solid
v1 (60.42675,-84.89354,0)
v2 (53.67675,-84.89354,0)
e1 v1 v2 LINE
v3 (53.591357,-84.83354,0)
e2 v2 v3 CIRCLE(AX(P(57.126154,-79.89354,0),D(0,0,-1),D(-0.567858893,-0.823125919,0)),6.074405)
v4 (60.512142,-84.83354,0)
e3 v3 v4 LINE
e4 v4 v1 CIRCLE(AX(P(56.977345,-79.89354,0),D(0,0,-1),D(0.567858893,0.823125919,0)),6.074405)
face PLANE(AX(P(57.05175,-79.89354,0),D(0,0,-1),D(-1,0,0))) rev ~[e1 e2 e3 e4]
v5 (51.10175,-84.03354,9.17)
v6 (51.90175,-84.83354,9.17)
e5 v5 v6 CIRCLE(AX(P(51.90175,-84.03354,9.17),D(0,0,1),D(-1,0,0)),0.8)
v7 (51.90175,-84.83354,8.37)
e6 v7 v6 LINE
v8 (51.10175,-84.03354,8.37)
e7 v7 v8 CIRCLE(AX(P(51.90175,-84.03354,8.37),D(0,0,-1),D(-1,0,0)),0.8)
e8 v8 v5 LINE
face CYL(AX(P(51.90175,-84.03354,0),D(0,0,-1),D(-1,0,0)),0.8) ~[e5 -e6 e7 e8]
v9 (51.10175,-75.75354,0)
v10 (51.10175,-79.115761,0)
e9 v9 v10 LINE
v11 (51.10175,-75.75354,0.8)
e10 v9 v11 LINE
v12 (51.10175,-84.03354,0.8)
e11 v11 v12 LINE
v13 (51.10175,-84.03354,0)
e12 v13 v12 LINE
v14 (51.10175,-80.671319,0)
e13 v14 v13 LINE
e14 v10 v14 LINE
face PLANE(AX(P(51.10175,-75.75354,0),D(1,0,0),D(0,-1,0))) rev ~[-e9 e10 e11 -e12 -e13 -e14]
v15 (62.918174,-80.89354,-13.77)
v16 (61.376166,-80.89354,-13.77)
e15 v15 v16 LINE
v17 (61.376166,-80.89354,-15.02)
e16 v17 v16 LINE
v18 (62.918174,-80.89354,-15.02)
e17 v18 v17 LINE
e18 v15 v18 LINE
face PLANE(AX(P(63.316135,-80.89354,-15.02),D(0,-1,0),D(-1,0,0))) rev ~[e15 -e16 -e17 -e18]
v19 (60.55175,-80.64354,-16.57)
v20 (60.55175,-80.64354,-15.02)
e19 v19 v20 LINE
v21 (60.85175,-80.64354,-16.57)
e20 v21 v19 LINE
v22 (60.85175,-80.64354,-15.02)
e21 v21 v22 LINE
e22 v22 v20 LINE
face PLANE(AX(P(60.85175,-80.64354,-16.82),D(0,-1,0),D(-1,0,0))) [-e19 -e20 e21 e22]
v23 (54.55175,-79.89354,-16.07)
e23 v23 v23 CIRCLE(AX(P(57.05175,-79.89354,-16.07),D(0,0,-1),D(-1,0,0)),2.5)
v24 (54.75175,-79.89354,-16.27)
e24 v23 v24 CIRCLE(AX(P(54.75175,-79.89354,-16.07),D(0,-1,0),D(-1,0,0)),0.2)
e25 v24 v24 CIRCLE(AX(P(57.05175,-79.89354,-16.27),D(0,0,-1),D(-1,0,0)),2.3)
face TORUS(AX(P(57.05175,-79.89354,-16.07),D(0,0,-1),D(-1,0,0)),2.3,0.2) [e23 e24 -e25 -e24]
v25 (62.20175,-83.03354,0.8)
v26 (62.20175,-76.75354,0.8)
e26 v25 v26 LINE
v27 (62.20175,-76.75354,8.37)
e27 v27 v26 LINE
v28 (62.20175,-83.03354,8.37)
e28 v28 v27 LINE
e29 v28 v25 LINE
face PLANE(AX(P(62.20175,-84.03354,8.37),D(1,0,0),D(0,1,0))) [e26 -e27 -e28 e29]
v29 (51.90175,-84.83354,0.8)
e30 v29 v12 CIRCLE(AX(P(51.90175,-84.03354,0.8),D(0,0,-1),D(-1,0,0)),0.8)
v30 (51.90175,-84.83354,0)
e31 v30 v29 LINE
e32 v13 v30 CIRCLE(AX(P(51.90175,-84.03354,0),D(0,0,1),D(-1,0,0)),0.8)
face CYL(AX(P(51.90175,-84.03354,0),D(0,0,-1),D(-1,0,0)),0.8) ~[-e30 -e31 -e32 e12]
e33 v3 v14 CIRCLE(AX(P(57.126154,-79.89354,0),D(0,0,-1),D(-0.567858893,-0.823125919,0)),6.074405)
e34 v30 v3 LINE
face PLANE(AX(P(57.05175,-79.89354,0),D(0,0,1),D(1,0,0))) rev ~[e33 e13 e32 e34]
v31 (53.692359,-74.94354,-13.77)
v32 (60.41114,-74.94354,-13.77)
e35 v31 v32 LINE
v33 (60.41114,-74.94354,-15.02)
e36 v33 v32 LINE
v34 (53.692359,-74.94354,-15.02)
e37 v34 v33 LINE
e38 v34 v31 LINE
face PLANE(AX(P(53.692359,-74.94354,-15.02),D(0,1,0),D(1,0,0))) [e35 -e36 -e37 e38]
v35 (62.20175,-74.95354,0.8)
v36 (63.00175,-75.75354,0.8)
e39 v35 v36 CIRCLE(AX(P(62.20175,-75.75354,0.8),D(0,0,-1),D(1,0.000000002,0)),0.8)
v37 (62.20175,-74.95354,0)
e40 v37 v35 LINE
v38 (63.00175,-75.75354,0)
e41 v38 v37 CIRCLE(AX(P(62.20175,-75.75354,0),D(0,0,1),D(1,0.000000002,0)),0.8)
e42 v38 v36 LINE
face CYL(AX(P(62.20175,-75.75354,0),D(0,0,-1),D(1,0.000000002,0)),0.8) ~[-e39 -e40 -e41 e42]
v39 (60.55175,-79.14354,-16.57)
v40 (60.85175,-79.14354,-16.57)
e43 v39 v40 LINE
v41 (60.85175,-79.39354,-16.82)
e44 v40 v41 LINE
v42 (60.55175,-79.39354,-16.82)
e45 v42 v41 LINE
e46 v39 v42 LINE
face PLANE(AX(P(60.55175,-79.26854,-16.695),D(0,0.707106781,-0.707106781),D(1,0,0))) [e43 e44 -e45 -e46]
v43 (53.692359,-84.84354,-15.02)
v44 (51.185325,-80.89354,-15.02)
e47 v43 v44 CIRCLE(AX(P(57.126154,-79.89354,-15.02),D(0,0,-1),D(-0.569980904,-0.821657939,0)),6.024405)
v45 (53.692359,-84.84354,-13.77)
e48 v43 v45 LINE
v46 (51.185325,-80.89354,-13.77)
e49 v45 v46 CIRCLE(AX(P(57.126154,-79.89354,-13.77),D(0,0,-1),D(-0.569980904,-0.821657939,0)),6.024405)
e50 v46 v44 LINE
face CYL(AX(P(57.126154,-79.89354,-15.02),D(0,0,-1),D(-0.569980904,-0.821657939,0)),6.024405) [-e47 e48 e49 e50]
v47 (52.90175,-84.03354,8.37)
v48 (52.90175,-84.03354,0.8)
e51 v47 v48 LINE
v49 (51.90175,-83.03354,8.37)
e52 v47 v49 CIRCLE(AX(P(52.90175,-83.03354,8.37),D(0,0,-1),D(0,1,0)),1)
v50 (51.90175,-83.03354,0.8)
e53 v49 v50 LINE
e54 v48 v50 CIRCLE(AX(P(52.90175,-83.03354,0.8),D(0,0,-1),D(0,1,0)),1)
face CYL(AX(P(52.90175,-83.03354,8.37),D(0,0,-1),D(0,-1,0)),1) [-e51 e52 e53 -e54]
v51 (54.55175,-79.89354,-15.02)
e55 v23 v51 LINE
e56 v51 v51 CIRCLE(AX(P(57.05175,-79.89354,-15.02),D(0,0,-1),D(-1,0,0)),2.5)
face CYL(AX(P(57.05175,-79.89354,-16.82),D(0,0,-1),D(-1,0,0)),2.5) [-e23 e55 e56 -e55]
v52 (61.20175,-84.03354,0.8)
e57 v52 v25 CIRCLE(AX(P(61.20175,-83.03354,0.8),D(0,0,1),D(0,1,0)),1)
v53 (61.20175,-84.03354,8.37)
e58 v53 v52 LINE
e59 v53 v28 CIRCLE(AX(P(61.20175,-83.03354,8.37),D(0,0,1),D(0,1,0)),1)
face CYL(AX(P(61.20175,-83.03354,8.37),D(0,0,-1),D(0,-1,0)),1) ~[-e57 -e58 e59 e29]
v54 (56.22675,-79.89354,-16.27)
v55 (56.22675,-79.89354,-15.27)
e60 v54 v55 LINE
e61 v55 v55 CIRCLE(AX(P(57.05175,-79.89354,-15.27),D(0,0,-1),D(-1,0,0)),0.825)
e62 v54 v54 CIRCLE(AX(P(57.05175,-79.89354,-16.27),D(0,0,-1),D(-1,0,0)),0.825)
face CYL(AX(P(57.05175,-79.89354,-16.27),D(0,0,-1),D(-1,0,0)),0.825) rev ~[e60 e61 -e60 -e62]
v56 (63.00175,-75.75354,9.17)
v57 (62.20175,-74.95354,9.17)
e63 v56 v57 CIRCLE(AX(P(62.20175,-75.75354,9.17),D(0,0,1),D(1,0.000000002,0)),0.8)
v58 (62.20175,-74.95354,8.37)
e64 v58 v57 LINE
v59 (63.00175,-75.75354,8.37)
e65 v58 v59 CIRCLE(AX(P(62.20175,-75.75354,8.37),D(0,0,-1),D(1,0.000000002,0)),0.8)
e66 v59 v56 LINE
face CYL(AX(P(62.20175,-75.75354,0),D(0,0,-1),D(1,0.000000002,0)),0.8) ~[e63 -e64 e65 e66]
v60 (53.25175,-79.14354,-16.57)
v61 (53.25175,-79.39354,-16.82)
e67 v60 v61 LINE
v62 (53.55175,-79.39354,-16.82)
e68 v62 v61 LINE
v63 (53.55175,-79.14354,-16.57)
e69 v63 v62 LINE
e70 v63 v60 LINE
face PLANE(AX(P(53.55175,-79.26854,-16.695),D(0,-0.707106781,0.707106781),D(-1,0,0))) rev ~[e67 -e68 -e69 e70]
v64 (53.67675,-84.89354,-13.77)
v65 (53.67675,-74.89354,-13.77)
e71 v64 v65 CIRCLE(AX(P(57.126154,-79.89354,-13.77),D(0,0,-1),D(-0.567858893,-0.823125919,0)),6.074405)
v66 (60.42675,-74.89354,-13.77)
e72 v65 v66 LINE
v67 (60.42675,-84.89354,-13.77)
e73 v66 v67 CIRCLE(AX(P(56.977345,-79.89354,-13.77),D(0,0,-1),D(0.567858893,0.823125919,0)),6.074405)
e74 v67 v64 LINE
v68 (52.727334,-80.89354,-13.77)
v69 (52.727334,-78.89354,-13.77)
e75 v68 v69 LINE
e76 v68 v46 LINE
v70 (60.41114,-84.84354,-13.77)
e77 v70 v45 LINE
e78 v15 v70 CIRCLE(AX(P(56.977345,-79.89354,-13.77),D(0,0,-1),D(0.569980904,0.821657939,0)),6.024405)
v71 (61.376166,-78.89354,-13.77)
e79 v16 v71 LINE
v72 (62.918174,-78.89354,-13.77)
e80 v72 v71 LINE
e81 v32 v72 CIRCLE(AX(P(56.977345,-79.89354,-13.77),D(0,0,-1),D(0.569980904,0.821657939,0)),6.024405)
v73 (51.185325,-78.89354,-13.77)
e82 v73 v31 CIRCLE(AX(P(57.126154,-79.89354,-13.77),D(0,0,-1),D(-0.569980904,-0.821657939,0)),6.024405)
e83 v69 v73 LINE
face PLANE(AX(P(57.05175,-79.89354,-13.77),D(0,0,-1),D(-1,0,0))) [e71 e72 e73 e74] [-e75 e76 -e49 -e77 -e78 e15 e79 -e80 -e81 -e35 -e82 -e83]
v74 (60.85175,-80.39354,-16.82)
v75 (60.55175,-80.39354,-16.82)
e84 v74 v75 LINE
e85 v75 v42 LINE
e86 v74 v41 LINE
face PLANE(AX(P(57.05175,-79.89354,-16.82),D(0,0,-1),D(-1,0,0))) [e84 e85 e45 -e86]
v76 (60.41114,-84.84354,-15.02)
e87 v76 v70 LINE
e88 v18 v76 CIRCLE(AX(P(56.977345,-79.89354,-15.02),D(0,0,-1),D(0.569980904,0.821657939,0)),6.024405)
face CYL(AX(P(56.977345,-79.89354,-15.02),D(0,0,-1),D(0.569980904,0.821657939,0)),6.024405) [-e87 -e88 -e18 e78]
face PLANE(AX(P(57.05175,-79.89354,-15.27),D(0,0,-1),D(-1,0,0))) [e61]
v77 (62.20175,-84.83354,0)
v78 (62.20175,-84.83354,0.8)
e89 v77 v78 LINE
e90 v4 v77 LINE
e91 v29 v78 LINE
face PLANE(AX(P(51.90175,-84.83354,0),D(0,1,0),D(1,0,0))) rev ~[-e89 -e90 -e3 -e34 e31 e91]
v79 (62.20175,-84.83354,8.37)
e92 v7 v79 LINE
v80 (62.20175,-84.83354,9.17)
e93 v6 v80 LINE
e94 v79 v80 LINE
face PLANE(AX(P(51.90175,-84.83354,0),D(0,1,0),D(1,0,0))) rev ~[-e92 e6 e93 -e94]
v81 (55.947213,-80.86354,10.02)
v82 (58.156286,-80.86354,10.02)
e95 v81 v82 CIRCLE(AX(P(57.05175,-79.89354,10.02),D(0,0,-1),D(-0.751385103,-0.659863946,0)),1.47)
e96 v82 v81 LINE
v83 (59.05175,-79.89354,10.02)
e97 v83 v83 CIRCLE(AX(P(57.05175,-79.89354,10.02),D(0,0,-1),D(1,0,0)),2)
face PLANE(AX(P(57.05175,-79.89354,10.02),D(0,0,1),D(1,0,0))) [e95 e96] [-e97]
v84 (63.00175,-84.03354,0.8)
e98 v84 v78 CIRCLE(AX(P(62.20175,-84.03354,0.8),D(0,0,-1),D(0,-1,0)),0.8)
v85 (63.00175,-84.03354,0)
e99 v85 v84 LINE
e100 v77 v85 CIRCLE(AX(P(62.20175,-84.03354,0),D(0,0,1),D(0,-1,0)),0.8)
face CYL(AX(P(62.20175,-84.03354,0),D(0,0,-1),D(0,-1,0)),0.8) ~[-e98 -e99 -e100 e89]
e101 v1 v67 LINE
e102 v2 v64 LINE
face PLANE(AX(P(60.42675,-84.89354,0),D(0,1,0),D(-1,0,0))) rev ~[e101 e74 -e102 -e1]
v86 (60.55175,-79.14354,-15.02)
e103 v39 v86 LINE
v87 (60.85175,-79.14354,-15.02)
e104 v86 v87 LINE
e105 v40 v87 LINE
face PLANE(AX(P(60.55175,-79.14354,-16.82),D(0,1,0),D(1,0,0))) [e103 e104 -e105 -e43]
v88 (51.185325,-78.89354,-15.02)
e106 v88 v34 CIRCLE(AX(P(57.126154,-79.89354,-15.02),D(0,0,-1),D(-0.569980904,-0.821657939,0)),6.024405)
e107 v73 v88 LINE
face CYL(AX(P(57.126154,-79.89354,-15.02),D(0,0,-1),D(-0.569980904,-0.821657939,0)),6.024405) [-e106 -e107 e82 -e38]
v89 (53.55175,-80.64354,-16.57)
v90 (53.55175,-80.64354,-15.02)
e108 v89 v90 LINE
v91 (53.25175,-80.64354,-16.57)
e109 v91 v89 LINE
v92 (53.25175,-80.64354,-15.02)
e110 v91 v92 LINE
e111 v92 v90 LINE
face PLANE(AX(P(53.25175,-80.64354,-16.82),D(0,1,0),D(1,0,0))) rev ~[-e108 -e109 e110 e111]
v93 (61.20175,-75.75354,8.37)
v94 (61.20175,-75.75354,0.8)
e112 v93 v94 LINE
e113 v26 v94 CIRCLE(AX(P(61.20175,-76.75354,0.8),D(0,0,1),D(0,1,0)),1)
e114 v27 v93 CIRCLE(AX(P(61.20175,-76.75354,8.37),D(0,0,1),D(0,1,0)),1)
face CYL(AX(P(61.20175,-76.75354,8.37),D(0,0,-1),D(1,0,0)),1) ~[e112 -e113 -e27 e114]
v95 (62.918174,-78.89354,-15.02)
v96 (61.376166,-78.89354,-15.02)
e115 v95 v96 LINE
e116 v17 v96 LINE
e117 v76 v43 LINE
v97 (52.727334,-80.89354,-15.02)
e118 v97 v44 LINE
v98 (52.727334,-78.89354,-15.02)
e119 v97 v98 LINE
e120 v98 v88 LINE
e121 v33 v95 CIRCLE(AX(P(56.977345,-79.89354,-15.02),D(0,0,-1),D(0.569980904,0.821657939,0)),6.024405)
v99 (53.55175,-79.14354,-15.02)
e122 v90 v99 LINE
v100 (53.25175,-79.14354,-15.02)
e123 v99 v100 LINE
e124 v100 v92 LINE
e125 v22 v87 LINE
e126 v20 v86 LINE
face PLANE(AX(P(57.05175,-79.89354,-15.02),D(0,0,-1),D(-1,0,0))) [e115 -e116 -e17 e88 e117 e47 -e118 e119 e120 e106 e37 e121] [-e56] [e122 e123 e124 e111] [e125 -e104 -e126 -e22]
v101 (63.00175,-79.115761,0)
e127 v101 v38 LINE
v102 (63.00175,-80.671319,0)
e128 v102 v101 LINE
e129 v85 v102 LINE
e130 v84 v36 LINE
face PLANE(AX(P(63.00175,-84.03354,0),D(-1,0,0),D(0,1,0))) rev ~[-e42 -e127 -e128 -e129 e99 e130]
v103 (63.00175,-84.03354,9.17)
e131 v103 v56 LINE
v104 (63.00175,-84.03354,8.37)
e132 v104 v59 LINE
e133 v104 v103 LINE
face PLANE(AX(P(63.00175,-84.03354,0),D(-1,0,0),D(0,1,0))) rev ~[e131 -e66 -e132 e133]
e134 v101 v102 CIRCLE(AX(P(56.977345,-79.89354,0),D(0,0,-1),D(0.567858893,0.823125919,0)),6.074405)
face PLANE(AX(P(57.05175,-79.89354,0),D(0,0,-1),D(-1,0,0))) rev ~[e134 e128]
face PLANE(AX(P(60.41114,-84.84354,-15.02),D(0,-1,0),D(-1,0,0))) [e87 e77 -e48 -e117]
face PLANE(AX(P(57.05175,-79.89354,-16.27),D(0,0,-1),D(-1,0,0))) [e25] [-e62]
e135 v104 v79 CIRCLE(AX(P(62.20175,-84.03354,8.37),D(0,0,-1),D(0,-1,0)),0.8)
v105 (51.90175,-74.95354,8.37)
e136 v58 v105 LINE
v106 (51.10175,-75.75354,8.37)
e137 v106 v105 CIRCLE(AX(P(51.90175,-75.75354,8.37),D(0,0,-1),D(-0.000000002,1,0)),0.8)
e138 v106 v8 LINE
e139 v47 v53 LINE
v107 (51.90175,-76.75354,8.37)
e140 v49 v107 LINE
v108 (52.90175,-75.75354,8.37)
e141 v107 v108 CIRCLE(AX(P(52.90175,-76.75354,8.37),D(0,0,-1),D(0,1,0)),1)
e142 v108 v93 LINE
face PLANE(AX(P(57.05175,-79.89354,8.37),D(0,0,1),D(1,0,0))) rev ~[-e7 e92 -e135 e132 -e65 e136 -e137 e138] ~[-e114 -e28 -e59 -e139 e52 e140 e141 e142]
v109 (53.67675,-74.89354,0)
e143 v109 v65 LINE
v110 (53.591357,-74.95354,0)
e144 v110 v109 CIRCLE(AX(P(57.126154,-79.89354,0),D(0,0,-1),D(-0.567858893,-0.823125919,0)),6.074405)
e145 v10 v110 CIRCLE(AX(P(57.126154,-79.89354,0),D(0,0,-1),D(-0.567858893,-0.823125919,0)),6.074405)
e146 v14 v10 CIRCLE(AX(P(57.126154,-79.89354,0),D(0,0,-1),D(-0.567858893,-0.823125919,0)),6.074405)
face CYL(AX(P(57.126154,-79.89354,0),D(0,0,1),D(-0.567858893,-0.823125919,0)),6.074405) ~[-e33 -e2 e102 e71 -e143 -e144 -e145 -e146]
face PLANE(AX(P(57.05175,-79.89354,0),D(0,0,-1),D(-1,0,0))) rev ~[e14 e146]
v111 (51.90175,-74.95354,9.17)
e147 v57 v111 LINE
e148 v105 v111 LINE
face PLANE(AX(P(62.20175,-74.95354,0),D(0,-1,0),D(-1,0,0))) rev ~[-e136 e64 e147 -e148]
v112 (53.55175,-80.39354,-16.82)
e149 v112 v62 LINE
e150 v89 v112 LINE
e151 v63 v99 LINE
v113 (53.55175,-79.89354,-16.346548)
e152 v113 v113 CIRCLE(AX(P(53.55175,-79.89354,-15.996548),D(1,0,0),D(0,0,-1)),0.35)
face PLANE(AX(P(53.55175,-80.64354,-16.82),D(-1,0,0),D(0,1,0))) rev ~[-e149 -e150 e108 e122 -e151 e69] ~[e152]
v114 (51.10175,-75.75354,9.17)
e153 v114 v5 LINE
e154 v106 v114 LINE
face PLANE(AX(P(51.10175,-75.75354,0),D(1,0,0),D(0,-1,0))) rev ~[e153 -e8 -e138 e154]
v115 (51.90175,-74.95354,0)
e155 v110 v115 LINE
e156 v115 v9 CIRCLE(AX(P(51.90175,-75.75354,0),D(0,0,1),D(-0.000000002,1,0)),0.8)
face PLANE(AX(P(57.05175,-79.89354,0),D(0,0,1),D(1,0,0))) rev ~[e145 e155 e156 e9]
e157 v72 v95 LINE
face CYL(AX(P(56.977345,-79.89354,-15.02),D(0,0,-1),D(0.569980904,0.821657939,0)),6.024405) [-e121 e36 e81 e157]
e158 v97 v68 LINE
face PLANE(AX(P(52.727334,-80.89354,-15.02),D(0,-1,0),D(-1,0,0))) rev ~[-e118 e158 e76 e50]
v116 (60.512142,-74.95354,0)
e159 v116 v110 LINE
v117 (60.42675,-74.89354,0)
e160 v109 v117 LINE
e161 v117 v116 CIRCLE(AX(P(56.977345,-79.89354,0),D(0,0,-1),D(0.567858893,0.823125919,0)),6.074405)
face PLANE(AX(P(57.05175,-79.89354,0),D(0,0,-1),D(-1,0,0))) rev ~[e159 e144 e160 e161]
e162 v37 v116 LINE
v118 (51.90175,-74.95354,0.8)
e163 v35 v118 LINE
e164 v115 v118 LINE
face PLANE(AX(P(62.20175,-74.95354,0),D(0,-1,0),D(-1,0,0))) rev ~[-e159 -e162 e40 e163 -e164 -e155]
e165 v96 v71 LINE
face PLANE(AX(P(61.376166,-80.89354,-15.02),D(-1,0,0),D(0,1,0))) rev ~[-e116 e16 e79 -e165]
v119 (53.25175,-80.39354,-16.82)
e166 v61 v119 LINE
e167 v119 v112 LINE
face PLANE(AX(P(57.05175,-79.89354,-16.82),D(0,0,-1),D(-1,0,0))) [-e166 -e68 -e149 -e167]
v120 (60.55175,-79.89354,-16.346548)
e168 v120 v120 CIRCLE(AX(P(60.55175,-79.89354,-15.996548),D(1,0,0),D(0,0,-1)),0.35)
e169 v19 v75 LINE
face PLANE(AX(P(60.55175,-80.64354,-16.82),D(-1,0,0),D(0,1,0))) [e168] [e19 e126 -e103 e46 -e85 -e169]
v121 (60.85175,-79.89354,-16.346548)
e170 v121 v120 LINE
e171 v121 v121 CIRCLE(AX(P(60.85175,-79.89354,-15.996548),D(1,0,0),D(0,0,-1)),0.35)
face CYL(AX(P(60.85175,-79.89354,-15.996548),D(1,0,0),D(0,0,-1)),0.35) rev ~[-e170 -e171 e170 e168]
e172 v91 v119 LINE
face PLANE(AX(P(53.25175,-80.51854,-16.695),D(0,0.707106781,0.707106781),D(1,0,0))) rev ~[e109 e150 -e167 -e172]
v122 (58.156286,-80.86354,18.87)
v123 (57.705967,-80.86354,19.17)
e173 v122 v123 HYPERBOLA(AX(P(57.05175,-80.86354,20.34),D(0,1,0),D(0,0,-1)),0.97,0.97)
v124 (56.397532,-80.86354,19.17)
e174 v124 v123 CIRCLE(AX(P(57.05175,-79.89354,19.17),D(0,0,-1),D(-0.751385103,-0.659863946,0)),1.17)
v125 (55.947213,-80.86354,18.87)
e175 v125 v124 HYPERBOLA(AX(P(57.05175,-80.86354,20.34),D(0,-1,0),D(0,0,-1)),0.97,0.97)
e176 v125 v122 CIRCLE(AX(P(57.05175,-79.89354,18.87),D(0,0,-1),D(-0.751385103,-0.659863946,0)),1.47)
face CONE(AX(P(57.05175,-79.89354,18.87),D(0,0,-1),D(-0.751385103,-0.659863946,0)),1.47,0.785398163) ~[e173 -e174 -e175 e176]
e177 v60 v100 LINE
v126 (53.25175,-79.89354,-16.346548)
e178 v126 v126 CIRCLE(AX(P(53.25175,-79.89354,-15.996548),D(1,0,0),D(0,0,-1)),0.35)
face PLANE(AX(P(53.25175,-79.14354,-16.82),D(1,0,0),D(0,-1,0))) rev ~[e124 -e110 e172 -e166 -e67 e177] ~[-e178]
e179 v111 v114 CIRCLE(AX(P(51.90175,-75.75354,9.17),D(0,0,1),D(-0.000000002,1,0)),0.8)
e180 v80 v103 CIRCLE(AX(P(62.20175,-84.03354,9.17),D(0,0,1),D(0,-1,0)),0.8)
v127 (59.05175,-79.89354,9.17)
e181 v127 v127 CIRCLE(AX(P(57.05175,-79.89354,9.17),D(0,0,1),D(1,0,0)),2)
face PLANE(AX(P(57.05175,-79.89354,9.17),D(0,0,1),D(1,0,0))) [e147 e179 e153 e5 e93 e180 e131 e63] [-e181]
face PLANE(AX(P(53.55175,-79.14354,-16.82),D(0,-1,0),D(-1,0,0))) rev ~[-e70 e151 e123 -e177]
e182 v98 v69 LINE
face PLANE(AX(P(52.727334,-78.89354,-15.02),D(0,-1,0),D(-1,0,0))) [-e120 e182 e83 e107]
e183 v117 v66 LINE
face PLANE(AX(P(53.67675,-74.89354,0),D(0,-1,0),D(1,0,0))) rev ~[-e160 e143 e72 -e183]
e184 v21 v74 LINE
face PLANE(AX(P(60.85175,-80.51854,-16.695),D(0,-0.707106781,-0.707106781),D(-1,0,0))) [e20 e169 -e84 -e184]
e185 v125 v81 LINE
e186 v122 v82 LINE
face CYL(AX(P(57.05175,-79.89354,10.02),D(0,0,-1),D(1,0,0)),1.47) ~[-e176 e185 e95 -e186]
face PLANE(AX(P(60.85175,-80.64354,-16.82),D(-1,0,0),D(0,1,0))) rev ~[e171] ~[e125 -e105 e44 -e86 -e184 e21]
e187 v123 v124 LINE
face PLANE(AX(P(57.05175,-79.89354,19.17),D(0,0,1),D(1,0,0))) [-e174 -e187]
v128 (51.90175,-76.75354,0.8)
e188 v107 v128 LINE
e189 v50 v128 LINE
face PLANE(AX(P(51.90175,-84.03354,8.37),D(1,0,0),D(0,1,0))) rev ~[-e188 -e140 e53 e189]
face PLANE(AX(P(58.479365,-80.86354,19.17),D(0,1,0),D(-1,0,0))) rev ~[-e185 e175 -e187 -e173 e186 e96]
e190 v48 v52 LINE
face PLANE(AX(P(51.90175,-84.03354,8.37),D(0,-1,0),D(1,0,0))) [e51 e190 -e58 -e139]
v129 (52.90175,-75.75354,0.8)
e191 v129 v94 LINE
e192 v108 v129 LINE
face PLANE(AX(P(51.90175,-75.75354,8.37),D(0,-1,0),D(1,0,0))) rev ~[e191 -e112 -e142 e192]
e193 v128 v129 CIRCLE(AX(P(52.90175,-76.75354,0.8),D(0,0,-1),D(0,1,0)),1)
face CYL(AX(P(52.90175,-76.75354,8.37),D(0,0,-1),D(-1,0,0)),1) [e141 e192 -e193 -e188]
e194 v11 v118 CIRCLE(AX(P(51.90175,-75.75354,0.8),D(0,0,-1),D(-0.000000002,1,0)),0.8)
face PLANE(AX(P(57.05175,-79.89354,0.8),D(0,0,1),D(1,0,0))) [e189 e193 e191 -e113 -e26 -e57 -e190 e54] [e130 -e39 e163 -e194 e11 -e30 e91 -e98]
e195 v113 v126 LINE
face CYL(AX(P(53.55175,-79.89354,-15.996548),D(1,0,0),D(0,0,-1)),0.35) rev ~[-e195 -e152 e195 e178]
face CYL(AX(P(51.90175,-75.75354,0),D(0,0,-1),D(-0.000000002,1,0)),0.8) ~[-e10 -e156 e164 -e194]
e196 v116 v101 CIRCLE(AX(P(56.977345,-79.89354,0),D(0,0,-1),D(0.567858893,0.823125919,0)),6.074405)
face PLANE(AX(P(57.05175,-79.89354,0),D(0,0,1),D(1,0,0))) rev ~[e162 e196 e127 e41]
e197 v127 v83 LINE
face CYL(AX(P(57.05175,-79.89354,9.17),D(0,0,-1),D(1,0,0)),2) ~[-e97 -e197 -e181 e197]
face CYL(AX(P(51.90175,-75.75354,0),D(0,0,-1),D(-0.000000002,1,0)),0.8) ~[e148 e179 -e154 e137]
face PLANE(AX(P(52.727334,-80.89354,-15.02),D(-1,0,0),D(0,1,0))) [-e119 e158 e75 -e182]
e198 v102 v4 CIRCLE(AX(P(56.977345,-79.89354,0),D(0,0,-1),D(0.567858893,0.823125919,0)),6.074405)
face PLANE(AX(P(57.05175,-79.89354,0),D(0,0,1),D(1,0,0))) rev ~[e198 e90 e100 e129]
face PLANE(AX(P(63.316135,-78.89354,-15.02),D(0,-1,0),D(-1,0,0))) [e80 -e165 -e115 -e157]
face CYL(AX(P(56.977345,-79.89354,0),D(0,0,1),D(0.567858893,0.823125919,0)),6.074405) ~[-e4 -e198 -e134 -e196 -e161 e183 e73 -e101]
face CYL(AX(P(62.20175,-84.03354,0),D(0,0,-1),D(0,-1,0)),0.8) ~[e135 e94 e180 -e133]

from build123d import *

# Parameters (mm, degrees)
BOSS_EXTRUDE1_DEPTH = 16.82
BOSS_EXTRUDE2_DEPTH = 9.17
SKETCH3_R           = 2
BOSS_EXTRUDE3_DEPTH = 0.85
SKETCH4_R           = 1.47
BOSS_EXTRUDE4_DEPTH = 9.15
CUT_EXTRUDE1_DEPTH  = 9.15
SKETCH7_R           = 7.076677912
SKETCH7_R_2         = 2.5
CUT_EXTRUDE2_DEPTH  = 1.8
SKETCH8_R           = 2.5
CUT_EXTRUDE3_DEPTH  = 0.55
SKETCH9_W           = 14.3
SKETCH9_H           = 12.28
SKETCH9_W_2         = 10.3
SKETCH9_H_2         = 8.28
CUT_EXTRUDE4_DEPTH  = 7.57
FILLET1_R           = 1
CHAMFER2_SIZE       = 0.25
SKETCH10_R          = 0.35
CUT_EXTRUDE5_DEPTH  = 0.8
SKETCH11_R          = 0.35
CUT_EXTRUDE6_DEPTH  = 0.8
FILLET2_R           = 0.2
SKETCH12_R          = 0.825
CUT_EXTRUDE7_DEPTH  = 1
CUT_EXTRUDE8_DEPTH  = 1.25
SKETCH14_W          = 1.939968983
SKETCH14_H          = 2
CUT_EXTRUDE9_DEPTH  = 1.25
CHAMFER3_SIZE       = 0.3


with BuildPart() as part:
    # Sketch1 → Boss-Extrude1 (new body)
    with BuildSketch(Plane.XY):
        with BuildLine():
            Line((53.676749567, -74.893540286), (60.426749567, -74.893540286))
            ThreePointArc((60.426749567, -74.893540286), (63.051749567, -79.893540286), (60.426749567, -84.893540286))
            Line((60.426749567, -84.893540286), (53.676749567, -84.893540286))
            ThreePointArc((53.676749567, -84.893540286), (51.051749567, -79.893540286), (53.676749567, -74.893540286))
        make_face()
    extrude(amount=-BOSS_EXTRUDE1_DEPTH)

    # Sketch2 → Boss-Extrude2 (add)
    with BuildSketch(Plane.XY):
        with BuildLine():
            Line((63.001749567, -84.033540286), (63.001749567, -75.753540286))
            ThreePointArc((63.001749567, -75.753540286), (62.767434992, -75.187854862), (62.201749567, -74.953540286))
            Line((62.201749567, -74.953540286), (51.901749567, -74.953540286))
            ThreePointArc((51.901749567, -74.953540286), (51.336064142, -75.187854862), (51.101749567, -75.753540286))
            Line((51.101749567, -75.753540286), (51.101749567, -84.033540286))
            ThreePointArc((51.101749567, -84.033540286), (51.336064142, -84.599225711), (51.901749567, -84.833540286))
            Line((51.901749567, -84.833540286), (62.201749567, -84.833540286))
            ThreePointArc((62.201749567, -84.833540286), (62.767434992, -84.599225711), (63.001749567, -84.033540286))
        make_face()
    extrude(amount=BOSS_EXTRUDE2_DEPTH)

    # Sketch3 → Boss-Extrude3 (add)
    with BuildSketch(Plane.XY.offset(9.17)):
        with Locations((57.051749567, -79.893540286)):
            Circle(SKETCH3_R)
    extrude(amount=BOSS_EXTRUDE3_DEPTH)

    # Sketch4 → Boss-Extrude4 (add)
    with BuildSketch(Plane.XY.offset(10.02)):
        with Locations((57.051749567, -79.893540286)):
            Circle(SKETCH4_R)
    extrude(amount=BOSS_EXTRUDE4_DEPTH)

    # Sketch5 → Cut-Extrude1 (cut)
    with BuildSketch(Plane.XY.offset(19.17)):
        Polygon((57.051749567, -80.863540286), (58.479364881, -80.863540286), (58.479364881, -81.63553805), (55.371975477, -81.63553805), (55.371975477, -80.863540286), align=None)
    extrude(amount=-CUT_EXTRUDE1_DEPTH, mode=Mode.SUBTRACT)

    # Sketch7 → Cut-Extrude2 (cut)
    with BuildSketch(Plane(origin=(0, 0, -16.82), x_dir=(-1, 0, 0), z_dir=(0, 0, -1))):
        with Locations((-57.051749567, -79.893540286)):
            Circle(SKETCH7_R)
        with Locations((-57.051749567, -79.893540286)):
            Circle(SKETCH7_R_2, mode=Mode.SUBTRACT)
        Polygon((-60.551749567, -79.143540286), (-60.851749567, -79.143540286), (-60.851749567, -79.893540286), (-60.851749567, -80.643540286), (-60.551749567, -80.643540286), align=None, mode=Mode.SUBTRACT)
        Polygon((-53.251749567, -79.143540286), (-53.251749567, -79.893540286), (-53.251749567, -80.643540286), (-53.551749567, -80.643540286), (-53.551749567, -79.143540286), align=None, mode=Mode.SUBTRACT)
    extrude(amount=-CUT_EXTRUDE2_DEPTH, mode=Mode.SUBTRACT)

    # Sketch8 → Cut-Extrude3 (cut)
    with BuildSketch(Plane(origin=(0, 0, -16.82), x_dir=(-1, 0, 0), z_dir=(0, 0, -1))):
        with Locations((-57.051749567, -79.893540286)):
            Circle(SKETCH8_R)
    extrude(amount=-CUT_EXTRUDE3_DEPTH, mode=Mode.SUBTRACT)

    # Sketch9 → Cut-Extrude4 (cut)
    with BuildSketch(Plane.XY.offset(8.37)):
        with Locations((57.051749567, -79.893540286)):
            Rectangle(SKETCH9_W, SKETCH9_H)
        with Locations((57.051749567, -79.893540286)):
            Rectangle(SKETCH9_W_2, SKETCH9_H_2, mode=Mode.SUBTRACT)
    extrude(amount=-CUT_EXTRUDE4_DEPTH, mode=Mode.SUBTRACT)

    # Fillet1
    fillet1_edges = [part.edges().sort_by_distance(p)[0] for p in [
        (51.901749567, -75.753540286, 4.585),
        (51.901749567, -84.033540286, 4.585),
        (62.201749567, -84.033540286, 4.585),
        (62.201749567, -75.753540286, 4.585),
    ]]
    fillet(fillet1_edges, radius=FILLET1_R)

    # Chamfer2
    chamfer2_edges = [part.edges().sort_by_distance(p)[0] for p in [
        (60.701749567, -80.643540286, -16.82),
        (60.701749567, -79.143540286, -16.82),
        (53.401749567, -80.643540286, -16.82),
        (53.401749567, -79.143540286, -16.82),
    ]]
    chamfer(chamfer2_edges, length=CHAMFER2_SIZE)

    # Sketch10 → Cut-Extrude5 (cut)
    with BuildSketch(Plane(origin=(60.851749567, 0, 0), x_dir=(0, 0, -1), z_dir=(1, 0, 0))):
        with Locations((15.996548304, -79.893540286)):
            Circle(SKETCH10_R)
    extrude(amount=-CUT_EXTRUDE5_DEPTH, mode=Mode.SUBTRACT)

    # Sketch11 → Cut-Extrude6 (cut)
    with BuildSketch(Plane(origin=(53.551749567, 0, 0), x_dir=(0, 0, -1), z_dir=(1, 0, 0))):
        with Locations((15.996548304, -79.893540286)):
            Circle(SKETCH11_R)
    extrude(amount=-CUT_EXTRUDE6_DEPTH, mode=Mode.SUBTRACT)

    # Fillet2
    fillet2_edges = [part.edges().sort_by_distance(p)[0] for p in [
        (59.551749567, -79.893540286, -16.27),
    ]]
    fillet(fillet2_edges, radius=FILLET2_R)

    # Sketch12 → Cut-Extrude7 (cut)
    with BuildSketch(Plane(origin=(0, 0, -16.27), x_dir=(-1, 0, 0), z_dir=(0, 0, -1))):
        with Locations((-57.051749567, -79.893540286)):
            Circle(SKETCH12_R)
    extrude(amount=-CUT_EXTRUDE7_DEPTH, mode=Mode.SUBTRACT)

    # Sketch13 → Cut-Extrude8 (cut)
    with BuildSketch(Plane(origin=(0, 0, -15.02), x_dir=(-1, 0, 0), z_dir=(0, 0, -1))):
        with BuildLine():
            Line((-53.392555226, -73.943540286), (-60.710943907, -73.943540286))
            ThreePointArc((-60.710943907, -73.943540286), (-64.001749567, -79.893540286), (-60.710943907, -85.843540286))
            Line((-60.710943907, -85.843540286), (-53.392555226, -85.843540286))
            ThreePointArc((-53.392555226, -85.843540286), (-50.101749567, -79.893540286), (-53.392555226, -73.943540286))
        make_face()
        with BuildLine():
            Line((-53.692358654, -74.943540286), (-60.411140479, -74.943540286))
            ThreePointArc((-60.411140479, -74.943540286), (-63.001749567, -79.893540286), (-60.411140479, -84.843540286))
            Line((-60.411140479, -84.843540286), (-53.692358654, -84.843540286))
            ThreePointArc((-53.692358654, -84.843540286), (-51.101749567, -79.893540286), (-53.692358654, -74.943540286))
        make_face(mode=Mode.SUBTRACT)
    extrude(amount=-CUT_EXTRUDE8_DEPTH, mode=Mode.SUBTRACT)

    # Sketch14 → Cut-Extrude9 (cut)
    with BuildSketch(Plane(origin=(0, 0, -15.02), x_dir=(-1, 0, 0), z_dir=(0, 0, -1))):
        with Locations((-62.346150018, -79.893540286)):
            Rectangle(SKETCH14_W, SKETCH14_H)
        with Locations((-51.757349116, -79.893540286)):
            Rectangle(SKETCH14_W, SKETCH14_H)
    extrude(amount=-CUT_EXTRUDE9_DEPTH, mode=Mode.SUBTRACT)

    # Chamfer3
    chamfer3_edges = [part.edges().sort_by_distance(p)[0] for p in [
        (57.051749567, -78.423540286, 19.17),
    ]]
    chamfer(chamfer3_edges, length=CHAMFER3_SIZE)


solid = part.part
